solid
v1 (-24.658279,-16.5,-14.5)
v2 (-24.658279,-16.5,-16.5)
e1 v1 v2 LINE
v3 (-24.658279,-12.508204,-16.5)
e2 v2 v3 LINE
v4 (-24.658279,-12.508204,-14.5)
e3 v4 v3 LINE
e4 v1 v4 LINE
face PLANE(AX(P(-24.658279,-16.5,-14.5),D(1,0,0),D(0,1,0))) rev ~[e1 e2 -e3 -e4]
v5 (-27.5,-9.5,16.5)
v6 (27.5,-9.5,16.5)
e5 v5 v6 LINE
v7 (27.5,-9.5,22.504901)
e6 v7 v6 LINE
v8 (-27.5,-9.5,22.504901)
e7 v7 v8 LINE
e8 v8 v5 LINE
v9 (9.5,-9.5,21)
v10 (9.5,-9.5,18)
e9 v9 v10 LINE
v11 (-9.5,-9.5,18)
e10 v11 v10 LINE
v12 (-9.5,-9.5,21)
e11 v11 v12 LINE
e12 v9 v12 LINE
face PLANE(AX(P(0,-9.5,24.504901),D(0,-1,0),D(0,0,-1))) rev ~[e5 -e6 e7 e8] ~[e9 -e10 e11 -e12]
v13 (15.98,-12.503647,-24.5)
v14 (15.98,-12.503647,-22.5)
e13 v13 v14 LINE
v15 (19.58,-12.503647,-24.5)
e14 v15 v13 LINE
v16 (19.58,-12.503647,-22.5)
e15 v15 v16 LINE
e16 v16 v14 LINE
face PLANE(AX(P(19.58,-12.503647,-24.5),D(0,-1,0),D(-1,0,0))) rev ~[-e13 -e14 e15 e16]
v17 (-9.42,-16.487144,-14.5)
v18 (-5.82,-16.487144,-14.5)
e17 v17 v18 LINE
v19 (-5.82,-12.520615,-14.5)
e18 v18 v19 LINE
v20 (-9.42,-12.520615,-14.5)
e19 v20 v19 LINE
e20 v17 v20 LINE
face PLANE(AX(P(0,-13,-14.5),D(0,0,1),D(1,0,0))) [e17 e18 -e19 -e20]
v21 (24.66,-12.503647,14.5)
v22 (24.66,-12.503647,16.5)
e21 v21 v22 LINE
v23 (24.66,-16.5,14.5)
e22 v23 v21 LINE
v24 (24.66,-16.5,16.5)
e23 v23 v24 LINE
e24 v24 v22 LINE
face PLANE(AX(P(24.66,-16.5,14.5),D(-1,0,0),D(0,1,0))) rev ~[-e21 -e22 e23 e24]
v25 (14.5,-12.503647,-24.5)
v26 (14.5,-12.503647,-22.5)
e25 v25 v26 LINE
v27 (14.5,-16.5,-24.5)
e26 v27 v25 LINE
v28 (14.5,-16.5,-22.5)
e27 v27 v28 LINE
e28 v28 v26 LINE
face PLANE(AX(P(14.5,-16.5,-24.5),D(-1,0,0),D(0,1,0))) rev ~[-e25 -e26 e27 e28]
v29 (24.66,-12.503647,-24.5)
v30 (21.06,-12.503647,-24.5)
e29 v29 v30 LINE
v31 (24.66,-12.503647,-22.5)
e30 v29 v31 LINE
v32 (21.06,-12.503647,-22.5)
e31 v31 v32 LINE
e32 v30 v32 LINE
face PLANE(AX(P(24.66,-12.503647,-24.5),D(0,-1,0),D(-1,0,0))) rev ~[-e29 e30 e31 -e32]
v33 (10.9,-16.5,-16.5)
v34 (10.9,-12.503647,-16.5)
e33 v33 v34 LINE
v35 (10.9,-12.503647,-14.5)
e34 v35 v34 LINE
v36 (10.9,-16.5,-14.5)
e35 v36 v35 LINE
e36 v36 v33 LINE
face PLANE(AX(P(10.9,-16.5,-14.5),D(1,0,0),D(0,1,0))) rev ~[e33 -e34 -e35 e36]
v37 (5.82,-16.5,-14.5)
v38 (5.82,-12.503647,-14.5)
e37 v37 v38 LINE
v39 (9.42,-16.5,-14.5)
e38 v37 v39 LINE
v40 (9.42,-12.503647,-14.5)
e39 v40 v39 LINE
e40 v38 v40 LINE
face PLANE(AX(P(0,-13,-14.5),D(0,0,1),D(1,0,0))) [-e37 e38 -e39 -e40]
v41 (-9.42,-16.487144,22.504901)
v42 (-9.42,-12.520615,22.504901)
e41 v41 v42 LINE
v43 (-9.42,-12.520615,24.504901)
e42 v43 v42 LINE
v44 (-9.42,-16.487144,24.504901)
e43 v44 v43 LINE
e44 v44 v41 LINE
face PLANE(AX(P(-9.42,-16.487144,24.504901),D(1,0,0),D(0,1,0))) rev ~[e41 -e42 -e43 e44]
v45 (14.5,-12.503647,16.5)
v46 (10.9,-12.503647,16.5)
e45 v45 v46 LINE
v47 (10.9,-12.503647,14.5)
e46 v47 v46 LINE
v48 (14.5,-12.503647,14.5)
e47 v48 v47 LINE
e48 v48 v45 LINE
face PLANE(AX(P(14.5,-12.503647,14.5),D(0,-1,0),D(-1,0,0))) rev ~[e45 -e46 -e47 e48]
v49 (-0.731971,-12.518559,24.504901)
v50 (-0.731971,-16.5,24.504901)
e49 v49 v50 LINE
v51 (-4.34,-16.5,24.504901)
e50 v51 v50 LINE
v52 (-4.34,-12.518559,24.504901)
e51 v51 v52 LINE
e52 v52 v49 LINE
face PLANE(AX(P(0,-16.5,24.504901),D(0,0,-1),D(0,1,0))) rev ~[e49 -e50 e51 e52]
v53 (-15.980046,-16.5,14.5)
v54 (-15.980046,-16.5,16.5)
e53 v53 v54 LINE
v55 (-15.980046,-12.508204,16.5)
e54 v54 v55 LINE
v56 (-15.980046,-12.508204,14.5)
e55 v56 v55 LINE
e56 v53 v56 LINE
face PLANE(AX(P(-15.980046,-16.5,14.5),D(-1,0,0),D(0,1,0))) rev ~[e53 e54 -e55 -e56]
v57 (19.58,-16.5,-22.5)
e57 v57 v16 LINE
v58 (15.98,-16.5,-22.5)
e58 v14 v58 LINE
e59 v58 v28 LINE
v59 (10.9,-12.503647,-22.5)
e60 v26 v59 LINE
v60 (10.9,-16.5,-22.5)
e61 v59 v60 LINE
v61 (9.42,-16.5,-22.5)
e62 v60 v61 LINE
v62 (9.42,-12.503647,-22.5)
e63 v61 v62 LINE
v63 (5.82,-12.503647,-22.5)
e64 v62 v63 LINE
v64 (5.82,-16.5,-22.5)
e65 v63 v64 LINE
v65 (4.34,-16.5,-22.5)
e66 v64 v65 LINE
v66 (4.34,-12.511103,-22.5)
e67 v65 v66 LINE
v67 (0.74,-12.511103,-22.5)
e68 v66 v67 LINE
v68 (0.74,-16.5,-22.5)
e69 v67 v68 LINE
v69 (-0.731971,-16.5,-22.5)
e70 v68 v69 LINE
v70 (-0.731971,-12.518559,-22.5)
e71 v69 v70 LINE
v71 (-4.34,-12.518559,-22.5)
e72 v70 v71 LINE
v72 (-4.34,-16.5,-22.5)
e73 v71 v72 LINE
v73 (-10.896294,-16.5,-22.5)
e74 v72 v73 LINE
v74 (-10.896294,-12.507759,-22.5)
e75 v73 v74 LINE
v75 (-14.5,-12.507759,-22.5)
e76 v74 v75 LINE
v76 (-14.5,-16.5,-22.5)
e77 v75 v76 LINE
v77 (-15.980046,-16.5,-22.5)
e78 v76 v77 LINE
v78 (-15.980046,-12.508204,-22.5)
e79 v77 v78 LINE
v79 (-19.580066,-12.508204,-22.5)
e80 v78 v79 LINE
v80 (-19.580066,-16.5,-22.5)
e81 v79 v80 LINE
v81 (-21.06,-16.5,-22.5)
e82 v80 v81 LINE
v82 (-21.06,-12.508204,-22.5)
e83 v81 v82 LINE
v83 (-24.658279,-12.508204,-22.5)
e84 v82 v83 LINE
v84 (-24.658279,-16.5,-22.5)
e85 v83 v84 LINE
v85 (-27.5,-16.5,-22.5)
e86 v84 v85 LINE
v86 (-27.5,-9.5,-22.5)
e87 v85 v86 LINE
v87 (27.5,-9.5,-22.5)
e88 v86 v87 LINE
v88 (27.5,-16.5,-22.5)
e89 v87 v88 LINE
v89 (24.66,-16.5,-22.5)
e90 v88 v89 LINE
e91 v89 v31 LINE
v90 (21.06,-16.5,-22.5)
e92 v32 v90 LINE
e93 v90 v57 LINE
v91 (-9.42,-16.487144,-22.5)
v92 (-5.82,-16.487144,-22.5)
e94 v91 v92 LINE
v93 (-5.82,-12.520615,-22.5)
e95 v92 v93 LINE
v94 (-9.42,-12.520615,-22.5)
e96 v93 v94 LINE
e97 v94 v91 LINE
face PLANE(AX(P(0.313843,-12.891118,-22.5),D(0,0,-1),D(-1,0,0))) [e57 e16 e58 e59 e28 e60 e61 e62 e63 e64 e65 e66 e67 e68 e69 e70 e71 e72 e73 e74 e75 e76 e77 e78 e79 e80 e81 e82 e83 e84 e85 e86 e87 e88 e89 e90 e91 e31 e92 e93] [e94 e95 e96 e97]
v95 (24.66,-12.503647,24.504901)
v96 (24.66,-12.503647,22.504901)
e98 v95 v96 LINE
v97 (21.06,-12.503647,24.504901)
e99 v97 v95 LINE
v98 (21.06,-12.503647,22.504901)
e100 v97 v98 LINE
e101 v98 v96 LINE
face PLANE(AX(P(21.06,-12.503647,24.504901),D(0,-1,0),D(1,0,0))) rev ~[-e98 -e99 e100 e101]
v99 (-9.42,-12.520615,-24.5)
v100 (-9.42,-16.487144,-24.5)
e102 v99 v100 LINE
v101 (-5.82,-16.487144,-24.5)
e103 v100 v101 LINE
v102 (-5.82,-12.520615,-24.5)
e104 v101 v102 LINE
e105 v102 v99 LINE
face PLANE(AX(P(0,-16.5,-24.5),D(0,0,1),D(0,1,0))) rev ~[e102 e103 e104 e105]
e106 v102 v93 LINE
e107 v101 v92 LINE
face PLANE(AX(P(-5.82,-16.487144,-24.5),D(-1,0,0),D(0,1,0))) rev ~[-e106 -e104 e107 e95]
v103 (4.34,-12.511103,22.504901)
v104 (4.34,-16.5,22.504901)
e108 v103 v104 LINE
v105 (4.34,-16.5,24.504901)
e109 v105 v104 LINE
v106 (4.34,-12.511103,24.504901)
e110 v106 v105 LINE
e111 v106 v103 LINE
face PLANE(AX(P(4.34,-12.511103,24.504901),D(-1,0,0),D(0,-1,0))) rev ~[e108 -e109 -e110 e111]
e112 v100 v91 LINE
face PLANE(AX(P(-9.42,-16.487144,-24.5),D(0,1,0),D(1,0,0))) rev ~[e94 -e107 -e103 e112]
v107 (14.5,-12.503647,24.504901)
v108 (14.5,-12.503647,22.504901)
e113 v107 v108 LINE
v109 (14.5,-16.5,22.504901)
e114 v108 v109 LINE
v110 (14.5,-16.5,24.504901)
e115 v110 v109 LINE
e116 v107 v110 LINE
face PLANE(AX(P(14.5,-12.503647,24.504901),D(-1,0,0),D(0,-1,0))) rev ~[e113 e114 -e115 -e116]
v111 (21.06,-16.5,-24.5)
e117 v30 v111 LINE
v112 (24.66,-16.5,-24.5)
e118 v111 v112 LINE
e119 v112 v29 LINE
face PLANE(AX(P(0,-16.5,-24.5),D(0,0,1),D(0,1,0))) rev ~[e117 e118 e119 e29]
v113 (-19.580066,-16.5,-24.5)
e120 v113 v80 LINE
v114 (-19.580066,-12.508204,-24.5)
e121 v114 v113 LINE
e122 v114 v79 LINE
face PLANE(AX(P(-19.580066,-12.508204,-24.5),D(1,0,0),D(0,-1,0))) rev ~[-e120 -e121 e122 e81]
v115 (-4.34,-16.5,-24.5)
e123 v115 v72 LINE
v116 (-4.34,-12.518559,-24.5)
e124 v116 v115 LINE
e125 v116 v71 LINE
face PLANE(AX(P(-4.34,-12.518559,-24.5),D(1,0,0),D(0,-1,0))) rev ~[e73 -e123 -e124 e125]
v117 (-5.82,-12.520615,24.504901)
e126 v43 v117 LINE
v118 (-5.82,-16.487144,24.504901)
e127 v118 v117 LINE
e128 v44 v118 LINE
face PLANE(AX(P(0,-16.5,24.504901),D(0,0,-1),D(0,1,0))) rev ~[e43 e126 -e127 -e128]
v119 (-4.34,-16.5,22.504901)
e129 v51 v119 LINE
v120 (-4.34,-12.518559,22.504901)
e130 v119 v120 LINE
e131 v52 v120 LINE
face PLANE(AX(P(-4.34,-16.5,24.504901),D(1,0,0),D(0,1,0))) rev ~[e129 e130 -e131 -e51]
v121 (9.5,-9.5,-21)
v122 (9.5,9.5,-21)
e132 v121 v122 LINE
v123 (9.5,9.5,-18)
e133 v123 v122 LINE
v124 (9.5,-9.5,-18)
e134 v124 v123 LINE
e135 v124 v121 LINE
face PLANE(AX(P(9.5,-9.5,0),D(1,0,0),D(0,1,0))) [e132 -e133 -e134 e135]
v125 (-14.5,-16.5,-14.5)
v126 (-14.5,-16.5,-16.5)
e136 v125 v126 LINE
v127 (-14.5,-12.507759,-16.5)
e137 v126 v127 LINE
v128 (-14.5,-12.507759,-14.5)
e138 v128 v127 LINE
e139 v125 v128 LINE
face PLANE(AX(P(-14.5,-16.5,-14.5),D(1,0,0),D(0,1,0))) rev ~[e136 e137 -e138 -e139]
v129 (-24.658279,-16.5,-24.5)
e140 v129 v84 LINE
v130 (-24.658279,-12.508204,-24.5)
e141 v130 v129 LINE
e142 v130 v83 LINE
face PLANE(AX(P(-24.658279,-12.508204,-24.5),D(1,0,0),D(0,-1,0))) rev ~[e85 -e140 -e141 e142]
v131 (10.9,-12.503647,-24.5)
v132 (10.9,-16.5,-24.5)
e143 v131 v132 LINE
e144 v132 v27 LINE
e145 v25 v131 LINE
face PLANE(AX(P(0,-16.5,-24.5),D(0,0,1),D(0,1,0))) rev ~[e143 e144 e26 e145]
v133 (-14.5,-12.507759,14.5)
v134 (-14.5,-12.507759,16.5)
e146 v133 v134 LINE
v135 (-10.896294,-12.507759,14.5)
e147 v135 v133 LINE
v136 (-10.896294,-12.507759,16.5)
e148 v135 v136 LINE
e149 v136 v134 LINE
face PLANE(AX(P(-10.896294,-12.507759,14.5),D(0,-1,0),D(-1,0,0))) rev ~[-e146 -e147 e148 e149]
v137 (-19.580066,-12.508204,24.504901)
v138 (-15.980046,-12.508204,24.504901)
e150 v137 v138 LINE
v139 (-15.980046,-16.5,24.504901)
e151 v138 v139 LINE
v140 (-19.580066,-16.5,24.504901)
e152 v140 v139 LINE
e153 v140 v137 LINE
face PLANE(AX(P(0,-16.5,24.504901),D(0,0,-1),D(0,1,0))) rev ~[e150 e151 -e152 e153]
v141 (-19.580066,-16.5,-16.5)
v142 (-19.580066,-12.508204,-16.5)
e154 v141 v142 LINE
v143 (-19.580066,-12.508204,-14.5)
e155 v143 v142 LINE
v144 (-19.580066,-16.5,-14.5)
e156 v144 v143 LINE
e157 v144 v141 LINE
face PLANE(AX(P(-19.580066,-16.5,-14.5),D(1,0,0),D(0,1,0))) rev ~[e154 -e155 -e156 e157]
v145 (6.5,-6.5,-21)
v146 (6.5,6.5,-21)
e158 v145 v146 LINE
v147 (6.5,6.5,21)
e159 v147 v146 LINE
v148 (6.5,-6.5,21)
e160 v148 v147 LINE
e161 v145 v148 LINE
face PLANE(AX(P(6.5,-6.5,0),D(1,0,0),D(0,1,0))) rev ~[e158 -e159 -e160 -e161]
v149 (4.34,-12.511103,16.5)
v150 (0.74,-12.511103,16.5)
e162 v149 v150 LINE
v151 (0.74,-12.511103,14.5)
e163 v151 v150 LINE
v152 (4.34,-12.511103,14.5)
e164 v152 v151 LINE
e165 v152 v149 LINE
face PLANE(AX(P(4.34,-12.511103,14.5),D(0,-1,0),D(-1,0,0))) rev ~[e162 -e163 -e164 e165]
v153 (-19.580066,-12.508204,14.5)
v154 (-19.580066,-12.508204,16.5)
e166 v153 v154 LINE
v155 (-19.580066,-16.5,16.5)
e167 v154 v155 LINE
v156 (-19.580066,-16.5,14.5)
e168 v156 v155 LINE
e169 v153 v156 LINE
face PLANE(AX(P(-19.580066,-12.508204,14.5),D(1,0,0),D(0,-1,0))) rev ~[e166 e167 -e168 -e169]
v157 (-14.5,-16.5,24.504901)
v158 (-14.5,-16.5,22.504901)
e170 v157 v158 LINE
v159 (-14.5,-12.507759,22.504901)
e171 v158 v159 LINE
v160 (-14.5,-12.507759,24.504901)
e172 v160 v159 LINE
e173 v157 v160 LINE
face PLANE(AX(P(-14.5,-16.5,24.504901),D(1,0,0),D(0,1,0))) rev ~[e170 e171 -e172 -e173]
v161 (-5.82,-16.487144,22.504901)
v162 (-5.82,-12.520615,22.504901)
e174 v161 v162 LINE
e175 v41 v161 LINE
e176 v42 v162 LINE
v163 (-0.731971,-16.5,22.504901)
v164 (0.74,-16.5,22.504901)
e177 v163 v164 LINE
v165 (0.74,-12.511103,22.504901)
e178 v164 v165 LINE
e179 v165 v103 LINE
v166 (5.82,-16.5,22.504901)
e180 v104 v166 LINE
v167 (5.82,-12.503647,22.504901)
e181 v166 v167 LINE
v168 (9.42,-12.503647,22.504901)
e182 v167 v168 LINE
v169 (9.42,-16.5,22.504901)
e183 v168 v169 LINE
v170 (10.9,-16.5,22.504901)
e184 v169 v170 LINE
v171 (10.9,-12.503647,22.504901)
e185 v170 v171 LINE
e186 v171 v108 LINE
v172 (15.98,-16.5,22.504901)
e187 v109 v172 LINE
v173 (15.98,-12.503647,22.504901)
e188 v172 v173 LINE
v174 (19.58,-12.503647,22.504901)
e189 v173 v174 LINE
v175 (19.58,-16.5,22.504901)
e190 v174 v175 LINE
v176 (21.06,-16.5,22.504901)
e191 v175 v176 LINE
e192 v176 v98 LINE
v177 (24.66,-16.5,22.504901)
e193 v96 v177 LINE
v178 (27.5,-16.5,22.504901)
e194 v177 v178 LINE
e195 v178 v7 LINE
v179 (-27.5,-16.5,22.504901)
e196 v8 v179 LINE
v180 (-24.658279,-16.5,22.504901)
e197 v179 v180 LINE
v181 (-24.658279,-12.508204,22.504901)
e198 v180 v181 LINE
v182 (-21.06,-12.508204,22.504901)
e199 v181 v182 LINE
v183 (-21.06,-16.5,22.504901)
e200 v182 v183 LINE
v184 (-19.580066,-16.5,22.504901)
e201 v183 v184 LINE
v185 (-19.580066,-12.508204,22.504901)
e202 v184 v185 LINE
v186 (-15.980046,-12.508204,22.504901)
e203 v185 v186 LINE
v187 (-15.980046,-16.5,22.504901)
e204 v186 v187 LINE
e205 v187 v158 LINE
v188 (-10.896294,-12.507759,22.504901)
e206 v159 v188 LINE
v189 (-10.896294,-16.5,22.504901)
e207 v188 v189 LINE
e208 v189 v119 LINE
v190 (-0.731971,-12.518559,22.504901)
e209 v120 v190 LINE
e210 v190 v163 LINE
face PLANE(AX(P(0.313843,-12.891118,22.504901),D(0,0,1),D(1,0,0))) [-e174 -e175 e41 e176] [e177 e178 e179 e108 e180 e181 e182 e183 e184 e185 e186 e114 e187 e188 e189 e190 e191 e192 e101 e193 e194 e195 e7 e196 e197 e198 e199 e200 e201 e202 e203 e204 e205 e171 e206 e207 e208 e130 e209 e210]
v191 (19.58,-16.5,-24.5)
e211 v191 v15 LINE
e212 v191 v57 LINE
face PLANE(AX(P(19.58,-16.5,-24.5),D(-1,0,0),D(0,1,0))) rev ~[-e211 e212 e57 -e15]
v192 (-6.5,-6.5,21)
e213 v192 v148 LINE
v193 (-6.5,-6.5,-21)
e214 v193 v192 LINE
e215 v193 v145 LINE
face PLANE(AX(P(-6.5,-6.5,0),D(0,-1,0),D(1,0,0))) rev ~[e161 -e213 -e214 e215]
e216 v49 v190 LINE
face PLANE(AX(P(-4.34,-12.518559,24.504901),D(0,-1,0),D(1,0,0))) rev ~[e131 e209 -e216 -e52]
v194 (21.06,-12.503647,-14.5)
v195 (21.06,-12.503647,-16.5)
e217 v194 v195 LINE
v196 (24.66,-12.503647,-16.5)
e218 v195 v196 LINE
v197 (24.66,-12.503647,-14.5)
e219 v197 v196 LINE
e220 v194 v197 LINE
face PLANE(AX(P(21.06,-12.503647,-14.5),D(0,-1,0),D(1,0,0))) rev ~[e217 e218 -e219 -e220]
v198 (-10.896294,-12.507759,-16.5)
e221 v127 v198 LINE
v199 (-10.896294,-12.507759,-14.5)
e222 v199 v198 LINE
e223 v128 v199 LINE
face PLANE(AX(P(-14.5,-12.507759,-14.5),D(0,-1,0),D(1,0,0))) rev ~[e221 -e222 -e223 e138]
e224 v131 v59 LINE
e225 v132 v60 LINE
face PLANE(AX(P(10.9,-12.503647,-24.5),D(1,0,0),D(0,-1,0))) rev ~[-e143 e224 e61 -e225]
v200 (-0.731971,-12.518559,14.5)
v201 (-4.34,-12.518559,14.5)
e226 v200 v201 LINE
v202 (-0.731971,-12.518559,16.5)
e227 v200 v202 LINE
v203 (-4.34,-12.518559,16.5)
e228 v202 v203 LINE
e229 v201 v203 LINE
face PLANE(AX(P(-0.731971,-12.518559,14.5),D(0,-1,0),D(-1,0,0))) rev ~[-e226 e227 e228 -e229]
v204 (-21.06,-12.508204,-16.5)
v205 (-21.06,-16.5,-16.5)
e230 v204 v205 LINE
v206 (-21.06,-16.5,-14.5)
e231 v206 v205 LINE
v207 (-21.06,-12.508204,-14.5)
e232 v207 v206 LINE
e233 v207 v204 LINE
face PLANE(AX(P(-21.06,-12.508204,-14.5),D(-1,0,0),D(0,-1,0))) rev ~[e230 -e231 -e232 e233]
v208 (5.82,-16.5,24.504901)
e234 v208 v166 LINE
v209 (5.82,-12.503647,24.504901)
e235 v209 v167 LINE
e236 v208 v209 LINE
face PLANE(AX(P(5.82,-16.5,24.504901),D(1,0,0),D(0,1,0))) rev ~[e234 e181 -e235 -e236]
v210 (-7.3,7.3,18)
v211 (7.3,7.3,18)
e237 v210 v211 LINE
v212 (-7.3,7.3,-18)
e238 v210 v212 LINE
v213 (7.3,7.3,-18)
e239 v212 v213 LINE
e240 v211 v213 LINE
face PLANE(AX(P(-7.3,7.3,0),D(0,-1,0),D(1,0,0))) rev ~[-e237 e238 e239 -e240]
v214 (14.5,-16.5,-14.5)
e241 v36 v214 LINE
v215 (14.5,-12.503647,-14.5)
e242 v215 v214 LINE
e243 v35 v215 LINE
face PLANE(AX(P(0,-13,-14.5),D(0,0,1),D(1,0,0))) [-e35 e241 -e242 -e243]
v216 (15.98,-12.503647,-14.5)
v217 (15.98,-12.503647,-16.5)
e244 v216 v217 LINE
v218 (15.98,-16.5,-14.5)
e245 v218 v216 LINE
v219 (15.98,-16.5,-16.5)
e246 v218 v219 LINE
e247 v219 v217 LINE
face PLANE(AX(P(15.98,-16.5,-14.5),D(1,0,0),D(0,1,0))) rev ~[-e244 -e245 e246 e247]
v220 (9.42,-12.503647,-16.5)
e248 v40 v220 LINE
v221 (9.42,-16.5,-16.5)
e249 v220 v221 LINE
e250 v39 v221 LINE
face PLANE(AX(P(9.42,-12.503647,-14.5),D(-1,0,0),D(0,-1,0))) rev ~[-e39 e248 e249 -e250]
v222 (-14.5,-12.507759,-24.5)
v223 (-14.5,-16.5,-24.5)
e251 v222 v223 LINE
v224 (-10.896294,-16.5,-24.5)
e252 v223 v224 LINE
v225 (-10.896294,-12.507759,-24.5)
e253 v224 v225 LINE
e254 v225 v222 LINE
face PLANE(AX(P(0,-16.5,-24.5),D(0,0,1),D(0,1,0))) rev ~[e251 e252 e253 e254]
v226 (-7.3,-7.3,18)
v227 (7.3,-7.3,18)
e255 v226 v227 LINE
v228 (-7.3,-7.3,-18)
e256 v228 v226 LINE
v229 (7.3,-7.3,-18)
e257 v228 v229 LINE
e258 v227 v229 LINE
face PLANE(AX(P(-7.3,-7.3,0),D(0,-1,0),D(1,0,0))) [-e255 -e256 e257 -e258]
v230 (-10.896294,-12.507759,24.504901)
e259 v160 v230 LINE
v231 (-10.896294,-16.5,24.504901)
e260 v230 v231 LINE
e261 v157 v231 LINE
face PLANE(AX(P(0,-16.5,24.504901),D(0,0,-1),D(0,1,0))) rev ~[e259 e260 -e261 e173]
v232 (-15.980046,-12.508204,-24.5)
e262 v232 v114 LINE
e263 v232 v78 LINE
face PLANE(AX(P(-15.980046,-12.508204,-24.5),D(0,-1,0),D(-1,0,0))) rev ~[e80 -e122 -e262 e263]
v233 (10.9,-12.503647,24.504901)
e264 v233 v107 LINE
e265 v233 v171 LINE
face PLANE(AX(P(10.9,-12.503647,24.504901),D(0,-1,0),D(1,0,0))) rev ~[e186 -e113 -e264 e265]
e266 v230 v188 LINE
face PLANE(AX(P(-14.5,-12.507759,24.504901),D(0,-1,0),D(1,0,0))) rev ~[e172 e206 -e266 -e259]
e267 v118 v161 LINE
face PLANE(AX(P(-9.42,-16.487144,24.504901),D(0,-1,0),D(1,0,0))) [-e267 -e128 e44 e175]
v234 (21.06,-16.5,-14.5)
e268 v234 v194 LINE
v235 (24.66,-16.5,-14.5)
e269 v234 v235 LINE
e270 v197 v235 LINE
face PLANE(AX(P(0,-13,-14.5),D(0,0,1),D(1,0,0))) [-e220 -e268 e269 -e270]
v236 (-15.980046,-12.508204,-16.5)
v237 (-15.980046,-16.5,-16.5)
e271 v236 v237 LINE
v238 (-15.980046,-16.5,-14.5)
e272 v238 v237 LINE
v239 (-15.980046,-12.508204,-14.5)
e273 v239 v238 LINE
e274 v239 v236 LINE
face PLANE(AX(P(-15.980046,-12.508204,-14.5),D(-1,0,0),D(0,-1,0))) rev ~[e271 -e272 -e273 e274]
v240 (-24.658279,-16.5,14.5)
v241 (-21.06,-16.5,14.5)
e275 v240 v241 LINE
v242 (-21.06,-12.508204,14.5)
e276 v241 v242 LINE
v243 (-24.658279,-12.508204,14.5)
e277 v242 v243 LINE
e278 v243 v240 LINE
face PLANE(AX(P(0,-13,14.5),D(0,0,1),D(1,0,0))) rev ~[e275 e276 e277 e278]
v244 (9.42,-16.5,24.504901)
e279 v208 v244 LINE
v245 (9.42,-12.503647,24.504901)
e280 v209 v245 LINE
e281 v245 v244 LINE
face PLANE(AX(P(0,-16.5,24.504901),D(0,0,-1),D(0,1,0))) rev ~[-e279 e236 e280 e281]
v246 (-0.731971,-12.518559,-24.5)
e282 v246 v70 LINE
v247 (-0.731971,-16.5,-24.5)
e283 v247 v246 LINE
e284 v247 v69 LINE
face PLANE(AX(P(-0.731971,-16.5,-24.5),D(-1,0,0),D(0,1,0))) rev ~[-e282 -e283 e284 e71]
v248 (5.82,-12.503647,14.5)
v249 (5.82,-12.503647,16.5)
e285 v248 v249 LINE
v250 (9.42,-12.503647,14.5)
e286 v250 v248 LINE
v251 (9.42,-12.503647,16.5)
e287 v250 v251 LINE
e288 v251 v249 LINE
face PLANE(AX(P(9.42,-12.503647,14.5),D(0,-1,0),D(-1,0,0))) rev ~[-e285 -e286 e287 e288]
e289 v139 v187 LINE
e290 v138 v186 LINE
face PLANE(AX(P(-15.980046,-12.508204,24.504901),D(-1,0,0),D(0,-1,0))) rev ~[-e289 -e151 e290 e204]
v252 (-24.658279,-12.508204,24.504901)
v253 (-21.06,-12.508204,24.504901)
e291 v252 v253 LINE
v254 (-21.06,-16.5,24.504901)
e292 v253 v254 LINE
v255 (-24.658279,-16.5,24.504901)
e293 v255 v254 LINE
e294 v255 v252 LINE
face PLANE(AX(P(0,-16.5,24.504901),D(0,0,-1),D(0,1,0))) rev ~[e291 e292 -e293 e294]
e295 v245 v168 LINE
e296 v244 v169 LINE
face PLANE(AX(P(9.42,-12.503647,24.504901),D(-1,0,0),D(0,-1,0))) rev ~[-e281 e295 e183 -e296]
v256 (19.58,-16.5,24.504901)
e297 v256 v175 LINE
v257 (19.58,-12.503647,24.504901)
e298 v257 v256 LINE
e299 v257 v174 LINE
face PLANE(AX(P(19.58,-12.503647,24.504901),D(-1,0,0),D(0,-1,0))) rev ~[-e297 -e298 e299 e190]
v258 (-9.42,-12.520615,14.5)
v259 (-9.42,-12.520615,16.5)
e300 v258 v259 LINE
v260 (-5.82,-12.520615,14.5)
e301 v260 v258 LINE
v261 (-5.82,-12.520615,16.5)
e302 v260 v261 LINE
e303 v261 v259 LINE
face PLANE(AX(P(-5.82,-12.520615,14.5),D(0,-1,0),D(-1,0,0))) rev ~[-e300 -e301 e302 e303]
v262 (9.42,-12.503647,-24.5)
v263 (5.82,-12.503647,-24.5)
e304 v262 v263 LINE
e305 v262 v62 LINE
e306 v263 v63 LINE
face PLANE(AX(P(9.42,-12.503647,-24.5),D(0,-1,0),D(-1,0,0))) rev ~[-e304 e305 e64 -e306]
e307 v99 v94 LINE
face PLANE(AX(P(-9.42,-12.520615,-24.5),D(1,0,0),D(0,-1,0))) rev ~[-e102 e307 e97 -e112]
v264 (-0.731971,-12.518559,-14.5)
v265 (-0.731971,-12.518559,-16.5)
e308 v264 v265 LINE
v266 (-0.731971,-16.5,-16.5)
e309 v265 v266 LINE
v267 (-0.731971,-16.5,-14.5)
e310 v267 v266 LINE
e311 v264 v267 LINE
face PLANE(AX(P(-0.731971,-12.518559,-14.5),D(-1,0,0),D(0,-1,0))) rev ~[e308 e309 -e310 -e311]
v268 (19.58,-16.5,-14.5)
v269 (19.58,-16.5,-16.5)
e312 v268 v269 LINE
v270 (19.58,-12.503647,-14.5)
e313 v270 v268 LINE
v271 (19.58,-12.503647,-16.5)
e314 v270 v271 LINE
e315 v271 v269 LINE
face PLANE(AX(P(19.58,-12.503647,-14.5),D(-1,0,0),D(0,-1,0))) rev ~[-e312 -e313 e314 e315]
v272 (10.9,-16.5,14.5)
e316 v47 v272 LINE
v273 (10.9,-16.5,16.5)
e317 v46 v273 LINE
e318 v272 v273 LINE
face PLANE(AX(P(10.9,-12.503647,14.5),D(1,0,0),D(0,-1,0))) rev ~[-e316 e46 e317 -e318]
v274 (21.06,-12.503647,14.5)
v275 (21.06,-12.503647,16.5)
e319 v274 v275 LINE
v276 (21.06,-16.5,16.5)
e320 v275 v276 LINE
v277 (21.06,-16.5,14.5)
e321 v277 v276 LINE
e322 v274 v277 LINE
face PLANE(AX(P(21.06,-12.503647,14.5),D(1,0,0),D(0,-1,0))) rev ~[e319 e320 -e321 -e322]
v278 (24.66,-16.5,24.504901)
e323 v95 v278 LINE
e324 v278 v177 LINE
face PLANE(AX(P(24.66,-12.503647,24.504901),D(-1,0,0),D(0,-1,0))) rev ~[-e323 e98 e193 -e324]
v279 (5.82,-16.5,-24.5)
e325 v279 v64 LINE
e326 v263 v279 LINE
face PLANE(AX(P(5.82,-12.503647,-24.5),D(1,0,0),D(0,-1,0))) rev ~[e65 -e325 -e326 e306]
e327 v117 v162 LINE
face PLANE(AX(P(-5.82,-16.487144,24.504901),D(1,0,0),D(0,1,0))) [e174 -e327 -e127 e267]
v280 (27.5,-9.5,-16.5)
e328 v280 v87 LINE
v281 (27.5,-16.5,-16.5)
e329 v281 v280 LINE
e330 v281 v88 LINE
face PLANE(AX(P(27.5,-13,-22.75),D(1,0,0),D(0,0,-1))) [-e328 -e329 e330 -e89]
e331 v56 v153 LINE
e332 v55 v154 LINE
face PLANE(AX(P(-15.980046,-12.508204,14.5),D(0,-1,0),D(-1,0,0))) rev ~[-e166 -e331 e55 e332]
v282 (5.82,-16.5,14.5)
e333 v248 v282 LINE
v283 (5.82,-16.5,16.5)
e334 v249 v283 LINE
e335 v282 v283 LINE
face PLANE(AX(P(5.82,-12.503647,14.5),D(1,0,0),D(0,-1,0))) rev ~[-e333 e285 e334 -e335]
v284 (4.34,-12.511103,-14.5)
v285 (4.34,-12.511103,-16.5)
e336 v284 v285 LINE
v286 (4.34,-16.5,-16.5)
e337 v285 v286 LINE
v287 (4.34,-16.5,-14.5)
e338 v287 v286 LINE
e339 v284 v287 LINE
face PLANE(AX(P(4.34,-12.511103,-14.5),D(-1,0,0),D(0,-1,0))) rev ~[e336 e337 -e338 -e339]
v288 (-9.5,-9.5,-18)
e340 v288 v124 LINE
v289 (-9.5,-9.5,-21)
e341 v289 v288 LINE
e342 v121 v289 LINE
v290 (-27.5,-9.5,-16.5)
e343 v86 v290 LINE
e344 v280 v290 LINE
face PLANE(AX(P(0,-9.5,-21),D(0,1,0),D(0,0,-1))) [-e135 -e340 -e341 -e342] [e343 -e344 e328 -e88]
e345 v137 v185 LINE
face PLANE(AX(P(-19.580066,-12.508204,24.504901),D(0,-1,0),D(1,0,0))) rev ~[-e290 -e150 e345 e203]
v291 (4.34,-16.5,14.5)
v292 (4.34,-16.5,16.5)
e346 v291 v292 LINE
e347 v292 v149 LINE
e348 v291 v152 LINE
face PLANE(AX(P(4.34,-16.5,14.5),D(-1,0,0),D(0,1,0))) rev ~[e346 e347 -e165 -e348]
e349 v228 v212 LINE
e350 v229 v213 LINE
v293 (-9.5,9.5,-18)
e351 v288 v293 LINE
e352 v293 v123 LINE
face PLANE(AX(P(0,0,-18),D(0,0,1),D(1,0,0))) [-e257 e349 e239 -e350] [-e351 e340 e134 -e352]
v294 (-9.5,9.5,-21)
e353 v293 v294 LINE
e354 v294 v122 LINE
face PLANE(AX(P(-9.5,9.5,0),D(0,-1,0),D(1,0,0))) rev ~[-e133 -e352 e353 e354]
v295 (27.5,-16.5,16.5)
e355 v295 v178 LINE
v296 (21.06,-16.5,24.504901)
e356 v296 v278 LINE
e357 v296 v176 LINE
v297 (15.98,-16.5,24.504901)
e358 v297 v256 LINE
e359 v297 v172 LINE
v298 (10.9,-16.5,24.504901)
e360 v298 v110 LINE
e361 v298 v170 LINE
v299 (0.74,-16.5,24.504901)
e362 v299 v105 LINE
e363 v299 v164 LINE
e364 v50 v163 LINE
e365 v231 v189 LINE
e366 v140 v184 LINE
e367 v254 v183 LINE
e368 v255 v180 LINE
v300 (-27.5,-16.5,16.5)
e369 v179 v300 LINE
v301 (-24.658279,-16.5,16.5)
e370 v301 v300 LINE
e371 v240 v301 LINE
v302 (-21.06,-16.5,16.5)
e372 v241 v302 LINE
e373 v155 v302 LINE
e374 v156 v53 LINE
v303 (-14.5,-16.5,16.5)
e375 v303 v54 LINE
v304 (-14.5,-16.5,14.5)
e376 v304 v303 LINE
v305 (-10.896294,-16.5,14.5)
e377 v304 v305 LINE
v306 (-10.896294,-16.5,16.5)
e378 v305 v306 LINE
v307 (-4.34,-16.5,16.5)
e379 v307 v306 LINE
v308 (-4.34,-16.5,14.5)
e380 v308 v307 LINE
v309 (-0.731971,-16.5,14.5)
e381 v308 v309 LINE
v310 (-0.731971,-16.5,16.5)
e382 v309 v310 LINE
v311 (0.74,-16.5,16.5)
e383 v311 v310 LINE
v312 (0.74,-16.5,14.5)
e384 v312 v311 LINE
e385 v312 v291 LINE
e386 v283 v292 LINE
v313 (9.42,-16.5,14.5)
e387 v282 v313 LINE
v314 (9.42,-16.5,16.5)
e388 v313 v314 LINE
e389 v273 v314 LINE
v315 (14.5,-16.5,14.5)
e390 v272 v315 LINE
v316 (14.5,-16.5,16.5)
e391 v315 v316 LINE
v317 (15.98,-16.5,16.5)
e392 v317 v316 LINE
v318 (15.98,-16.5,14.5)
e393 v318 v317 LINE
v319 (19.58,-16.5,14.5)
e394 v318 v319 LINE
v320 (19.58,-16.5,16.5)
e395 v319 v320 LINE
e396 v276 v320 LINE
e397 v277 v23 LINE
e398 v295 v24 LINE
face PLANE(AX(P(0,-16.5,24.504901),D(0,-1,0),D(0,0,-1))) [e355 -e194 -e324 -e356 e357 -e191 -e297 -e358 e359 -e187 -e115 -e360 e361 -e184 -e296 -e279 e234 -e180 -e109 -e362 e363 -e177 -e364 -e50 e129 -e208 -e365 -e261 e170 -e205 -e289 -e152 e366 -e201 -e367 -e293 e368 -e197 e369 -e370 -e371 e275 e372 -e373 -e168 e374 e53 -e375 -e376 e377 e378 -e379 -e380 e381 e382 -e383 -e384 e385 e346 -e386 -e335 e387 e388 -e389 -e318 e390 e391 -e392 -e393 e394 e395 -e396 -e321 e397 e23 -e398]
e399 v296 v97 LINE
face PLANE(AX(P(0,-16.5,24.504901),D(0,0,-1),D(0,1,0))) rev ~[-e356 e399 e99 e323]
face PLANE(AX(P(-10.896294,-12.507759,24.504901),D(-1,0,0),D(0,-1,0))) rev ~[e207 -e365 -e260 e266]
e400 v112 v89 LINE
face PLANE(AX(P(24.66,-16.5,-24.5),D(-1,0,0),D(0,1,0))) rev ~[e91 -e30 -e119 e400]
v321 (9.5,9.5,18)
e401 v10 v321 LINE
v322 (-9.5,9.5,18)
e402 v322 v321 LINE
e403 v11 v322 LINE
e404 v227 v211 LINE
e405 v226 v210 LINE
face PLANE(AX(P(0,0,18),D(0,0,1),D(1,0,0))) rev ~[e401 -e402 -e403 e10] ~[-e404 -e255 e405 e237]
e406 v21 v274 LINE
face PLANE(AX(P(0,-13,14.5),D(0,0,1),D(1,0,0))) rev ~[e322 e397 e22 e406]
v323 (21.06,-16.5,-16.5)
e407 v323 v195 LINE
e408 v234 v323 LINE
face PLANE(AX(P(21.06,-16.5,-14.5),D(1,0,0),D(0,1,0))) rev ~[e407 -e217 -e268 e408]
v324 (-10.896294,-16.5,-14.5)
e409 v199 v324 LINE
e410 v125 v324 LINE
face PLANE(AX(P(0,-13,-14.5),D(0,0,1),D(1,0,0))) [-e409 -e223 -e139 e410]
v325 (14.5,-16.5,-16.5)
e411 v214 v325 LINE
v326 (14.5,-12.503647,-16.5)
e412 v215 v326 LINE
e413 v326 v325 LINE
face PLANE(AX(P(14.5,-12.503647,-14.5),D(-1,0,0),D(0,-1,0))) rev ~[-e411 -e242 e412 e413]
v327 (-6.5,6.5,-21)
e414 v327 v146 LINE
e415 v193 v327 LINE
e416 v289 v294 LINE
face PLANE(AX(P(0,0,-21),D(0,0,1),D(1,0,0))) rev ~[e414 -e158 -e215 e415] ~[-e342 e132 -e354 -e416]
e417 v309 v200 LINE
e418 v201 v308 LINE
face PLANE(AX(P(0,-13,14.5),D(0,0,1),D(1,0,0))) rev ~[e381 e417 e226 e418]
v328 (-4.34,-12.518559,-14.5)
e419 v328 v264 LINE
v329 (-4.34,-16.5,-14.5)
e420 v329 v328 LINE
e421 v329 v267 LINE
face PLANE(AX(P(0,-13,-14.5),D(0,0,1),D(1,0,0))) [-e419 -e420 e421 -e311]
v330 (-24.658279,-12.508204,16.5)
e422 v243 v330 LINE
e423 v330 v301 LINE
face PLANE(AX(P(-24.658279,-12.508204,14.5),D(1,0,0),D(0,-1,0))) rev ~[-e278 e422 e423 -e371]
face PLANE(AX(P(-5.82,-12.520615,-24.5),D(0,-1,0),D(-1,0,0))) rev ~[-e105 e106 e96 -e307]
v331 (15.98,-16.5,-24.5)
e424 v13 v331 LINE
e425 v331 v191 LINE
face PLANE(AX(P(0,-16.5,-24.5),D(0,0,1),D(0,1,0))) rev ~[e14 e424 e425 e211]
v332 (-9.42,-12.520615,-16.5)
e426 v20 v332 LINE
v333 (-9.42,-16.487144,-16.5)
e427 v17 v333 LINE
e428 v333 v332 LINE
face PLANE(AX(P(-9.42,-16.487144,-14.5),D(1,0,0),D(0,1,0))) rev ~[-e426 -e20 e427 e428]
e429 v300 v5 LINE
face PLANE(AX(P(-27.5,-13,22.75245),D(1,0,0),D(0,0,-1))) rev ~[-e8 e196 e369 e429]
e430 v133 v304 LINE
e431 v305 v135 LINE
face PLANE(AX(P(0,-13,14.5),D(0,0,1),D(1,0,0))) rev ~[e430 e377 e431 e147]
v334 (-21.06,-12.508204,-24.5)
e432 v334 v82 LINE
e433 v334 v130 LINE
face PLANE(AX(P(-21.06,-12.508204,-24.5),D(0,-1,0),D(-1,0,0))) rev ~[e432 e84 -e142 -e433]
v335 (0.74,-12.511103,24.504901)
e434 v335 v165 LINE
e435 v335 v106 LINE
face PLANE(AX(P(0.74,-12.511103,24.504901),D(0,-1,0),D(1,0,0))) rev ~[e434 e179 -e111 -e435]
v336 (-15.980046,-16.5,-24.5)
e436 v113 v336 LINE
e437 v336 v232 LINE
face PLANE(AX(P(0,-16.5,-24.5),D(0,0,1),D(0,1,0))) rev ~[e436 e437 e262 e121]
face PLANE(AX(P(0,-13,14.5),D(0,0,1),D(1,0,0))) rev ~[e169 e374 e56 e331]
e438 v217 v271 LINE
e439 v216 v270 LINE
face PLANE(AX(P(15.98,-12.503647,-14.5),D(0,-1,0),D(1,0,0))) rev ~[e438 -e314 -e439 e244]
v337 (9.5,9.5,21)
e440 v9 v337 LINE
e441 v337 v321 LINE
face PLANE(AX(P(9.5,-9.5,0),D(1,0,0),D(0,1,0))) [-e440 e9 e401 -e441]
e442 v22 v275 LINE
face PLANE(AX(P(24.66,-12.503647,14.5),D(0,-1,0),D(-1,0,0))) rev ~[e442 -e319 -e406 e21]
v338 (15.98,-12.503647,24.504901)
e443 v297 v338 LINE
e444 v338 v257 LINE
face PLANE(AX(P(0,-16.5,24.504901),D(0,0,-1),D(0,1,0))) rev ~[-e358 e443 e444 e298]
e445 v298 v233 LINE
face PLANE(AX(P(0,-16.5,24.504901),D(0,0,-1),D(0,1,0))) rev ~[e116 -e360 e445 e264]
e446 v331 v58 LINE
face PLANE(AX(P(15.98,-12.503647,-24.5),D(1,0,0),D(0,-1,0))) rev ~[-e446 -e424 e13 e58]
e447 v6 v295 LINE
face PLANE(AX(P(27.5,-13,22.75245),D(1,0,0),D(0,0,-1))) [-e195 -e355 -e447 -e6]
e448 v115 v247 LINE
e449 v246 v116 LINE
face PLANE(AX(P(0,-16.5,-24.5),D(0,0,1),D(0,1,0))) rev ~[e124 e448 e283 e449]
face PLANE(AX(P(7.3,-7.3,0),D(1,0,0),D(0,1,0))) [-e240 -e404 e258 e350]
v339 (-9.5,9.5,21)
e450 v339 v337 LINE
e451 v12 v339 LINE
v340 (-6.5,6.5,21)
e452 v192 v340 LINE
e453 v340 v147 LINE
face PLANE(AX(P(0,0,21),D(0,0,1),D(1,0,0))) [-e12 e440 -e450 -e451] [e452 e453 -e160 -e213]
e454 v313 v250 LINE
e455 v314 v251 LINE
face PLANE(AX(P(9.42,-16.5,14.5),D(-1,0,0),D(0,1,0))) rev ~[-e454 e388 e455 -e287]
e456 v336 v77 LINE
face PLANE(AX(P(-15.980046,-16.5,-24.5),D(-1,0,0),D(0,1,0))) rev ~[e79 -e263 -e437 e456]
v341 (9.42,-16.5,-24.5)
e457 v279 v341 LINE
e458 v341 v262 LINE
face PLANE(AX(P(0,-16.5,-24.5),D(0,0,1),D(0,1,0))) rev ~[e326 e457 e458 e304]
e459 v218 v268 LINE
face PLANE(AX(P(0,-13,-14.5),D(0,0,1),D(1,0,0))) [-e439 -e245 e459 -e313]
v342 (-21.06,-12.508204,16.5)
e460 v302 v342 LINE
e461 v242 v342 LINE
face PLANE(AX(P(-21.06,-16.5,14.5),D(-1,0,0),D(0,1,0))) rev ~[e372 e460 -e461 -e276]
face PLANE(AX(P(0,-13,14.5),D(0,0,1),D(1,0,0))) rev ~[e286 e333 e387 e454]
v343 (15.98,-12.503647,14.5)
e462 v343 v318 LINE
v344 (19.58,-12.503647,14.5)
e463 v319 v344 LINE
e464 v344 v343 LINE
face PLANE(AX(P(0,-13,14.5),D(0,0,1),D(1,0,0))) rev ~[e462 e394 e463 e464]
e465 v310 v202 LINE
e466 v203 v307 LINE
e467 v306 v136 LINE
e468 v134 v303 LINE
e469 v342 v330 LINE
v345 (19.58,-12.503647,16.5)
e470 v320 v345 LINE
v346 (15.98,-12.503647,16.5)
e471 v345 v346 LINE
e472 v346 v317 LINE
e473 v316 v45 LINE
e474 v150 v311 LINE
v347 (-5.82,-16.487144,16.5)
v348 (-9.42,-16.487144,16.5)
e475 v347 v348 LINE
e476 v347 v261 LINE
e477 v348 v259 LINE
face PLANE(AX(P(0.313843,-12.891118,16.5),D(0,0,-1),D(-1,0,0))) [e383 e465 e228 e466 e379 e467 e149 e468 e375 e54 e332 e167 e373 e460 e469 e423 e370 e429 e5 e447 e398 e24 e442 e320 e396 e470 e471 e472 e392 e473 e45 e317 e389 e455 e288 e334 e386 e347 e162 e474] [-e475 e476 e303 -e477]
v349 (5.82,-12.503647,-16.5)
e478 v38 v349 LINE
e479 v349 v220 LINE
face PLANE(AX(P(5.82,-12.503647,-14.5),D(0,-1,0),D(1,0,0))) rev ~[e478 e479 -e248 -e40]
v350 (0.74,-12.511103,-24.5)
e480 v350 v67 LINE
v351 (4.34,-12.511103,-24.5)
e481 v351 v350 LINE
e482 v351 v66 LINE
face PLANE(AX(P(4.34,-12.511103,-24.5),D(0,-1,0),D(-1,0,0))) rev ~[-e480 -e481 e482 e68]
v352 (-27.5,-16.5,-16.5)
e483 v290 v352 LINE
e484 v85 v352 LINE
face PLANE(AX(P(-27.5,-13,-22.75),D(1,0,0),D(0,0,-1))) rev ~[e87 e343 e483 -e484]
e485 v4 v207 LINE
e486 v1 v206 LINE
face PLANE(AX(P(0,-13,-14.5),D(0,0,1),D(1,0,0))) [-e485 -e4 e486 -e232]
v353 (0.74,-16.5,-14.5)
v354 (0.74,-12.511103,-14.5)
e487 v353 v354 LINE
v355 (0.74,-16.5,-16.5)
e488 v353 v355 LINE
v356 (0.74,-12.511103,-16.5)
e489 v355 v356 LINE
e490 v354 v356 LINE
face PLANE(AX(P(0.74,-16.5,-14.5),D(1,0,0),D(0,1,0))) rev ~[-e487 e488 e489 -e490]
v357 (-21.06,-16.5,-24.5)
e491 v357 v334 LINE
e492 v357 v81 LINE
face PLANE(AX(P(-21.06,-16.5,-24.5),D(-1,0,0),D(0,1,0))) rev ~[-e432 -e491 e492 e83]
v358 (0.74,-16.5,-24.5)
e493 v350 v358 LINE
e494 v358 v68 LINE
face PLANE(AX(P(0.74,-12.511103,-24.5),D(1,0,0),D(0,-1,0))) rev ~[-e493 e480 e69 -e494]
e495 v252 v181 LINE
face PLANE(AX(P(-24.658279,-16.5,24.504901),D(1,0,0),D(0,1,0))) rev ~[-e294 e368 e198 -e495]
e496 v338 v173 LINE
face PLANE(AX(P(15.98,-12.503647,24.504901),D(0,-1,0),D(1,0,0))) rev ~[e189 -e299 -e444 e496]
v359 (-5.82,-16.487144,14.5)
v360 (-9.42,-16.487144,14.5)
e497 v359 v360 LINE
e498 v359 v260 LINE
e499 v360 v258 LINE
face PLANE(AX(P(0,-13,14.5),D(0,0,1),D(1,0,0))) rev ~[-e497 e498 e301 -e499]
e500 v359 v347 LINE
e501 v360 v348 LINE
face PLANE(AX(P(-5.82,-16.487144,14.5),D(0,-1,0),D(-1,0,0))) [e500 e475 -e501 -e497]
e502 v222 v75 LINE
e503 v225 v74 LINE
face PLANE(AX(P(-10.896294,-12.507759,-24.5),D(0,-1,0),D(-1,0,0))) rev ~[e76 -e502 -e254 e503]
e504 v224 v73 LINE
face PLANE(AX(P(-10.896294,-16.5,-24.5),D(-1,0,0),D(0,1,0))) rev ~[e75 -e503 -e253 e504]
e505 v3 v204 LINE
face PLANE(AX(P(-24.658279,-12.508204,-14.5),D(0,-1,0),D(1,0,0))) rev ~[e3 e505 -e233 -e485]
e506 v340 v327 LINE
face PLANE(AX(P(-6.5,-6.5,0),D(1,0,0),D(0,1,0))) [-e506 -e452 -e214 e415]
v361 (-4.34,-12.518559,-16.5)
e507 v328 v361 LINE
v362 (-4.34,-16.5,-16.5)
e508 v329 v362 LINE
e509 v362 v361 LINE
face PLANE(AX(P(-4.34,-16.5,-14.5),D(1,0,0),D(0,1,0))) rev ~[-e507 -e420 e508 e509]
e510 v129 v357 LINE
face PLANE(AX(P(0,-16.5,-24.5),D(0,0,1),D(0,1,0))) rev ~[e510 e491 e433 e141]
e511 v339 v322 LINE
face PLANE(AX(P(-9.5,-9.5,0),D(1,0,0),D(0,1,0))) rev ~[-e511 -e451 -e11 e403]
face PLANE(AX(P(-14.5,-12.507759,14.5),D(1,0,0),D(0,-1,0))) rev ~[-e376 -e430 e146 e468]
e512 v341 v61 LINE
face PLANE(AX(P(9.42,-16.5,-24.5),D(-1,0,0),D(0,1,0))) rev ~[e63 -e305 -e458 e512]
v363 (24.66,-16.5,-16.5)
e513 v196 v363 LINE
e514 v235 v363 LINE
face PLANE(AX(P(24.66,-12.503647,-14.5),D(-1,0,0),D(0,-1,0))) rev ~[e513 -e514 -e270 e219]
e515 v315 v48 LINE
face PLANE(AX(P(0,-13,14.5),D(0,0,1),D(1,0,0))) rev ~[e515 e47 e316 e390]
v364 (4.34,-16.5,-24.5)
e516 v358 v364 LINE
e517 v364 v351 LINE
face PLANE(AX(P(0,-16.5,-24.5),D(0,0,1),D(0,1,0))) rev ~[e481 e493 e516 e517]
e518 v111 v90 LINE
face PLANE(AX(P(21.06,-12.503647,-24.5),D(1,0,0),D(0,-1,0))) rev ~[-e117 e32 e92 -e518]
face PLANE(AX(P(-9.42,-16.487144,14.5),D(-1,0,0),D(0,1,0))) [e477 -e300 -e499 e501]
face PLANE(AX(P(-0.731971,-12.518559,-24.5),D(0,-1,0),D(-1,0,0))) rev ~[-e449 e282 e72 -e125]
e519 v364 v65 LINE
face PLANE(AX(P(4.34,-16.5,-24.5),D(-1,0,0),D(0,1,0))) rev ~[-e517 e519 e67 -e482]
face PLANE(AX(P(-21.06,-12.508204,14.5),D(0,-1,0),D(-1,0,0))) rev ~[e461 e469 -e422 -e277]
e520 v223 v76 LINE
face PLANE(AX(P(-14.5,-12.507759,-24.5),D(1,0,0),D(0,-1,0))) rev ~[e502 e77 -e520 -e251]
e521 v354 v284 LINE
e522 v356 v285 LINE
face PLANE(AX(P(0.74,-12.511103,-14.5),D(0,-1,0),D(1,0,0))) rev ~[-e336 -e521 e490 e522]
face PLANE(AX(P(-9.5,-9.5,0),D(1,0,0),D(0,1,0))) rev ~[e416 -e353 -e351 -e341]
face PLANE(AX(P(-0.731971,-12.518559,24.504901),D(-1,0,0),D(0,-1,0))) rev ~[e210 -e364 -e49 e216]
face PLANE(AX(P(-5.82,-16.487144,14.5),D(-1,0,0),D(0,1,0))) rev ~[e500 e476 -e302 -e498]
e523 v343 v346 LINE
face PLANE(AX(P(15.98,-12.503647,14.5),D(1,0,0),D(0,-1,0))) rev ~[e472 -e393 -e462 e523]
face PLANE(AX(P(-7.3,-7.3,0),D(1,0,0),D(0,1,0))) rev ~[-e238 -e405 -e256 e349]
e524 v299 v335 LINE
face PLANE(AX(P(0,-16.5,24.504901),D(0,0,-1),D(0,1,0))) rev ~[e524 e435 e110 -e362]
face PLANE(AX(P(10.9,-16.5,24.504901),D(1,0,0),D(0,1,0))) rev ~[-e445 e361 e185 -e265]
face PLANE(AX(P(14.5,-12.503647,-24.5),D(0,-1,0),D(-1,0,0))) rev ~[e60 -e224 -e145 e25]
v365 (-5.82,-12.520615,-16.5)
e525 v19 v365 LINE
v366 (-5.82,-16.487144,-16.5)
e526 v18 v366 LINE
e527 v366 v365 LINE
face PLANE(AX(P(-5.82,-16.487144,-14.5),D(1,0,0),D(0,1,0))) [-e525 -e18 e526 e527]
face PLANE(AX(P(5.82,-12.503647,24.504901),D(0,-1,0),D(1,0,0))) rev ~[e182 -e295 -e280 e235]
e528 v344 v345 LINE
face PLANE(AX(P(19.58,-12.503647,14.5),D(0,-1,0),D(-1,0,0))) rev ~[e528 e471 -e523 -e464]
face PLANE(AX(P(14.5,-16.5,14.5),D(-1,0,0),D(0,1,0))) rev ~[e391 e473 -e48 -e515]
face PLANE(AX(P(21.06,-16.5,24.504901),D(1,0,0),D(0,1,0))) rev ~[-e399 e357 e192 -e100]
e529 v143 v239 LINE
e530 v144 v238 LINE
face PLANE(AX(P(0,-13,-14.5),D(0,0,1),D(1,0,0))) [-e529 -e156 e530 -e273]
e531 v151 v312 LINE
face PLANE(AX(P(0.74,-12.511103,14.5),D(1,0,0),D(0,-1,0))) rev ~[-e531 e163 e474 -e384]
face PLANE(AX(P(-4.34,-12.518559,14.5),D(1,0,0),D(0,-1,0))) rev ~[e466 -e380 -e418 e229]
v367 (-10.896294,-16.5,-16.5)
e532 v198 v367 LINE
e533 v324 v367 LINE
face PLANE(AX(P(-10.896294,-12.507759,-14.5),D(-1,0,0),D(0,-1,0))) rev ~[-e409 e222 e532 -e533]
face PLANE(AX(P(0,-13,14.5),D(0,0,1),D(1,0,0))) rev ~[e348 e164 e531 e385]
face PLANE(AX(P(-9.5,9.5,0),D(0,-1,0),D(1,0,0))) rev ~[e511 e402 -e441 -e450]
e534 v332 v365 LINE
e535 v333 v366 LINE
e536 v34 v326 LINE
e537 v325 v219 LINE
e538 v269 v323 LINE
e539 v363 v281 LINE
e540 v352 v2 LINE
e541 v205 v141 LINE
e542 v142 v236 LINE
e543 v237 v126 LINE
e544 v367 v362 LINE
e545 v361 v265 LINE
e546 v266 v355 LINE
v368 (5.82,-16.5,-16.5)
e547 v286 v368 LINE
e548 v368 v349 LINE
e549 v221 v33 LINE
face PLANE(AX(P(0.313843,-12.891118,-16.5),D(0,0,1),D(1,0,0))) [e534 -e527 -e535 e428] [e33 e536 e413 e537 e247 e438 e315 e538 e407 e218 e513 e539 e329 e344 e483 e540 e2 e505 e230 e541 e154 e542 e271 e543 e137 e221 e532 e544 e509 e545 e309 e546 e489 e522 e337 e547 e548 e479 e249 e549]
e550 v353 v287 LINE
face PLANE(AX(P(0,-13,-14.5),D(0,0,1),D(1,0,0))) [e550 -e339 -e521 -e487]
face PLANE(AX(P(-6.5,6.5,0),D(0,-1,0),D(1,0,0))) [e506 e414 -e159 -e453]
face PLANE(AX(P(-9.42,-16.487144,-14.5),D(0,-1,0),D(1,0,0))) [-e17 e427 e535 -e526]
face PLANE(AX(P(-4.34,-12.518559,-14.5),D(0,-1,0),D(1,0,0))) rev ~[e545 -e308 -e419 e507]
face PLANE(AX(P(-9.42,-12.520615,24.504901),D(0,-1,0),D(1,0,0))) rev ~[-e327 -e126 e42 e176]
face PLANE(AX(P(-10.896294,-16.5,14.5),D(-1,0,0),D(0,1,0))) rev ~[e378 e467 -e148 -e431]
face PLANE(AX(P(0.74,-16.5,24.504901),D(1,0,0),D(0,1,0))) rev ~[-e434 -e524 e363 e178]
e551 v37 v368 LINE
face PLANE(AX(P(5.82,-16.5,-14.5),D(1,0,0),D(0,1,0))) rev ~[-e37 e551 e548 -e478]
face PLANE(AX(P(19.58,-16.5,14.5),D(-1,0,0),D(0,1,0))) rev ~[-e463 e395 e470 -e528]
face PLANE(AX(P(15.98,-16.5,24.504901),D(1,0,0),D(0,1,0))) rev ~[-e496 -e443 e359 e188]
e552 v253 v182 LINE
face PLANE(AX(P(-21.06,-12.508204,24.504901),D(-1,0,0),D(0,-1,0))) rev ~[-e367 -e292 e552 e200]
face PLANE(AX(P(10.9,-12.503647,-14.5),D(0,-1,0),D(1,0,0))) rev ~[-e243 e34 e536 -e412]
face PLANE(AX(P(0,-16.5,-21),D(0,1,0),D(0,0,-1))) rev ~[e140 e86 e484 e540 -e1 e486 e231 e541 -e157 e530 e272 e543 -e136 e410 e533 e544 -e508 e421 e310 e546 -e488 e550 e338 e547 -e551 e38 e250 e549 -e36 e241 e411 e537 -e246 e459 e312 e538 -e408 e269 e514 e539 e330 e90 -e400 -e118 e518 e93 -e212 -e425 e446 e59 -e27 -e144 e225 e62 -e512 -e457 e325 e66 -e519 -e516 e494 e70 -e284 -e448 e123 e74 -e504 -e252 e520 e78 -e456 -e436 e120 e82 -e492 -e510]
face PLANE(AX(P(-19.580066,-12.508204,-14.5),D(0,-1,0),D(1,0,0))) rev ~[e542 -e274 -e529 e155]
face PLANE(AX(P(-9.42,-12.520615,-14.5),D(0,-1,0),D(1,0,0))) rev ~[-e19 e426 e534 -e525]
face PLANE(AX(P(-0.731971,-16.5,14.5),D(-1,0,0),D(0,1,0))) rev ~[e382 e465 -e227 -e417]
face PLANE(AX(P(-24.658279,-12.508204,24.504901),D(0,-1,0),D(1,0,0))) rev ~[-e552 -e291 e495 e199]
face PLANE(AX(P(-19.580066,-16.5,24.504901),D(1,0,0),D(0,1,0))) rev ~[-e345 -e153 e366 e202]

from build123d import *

# Parameters (mm, degrees)
EXTRUDE_1_DEPTH      = 21
SKETCH_1_3_W         = 13
SKETCH_1_3_H         = 13
CUT_EXTRUDE_1_DEPTH  = 21
SKETCH_1_12_W        = 19
SKETCH_1_12_H        = 19
SKETCH_1_12_W_2      = 14.6
SKETCH_1_12_H_2      = 14.6
SKETCH_1_12_W_3      = 13
SKETCH_1_12_H_3      = 13
CUT_EXTRUDE_6_DEPTH  = 18
CUT_EXTRUDE_7_DEPTH  = 14.5
SKETCH_4_W           = 3.504900739
SKETCH_4_H           = 7
SKETCH_4_W_2         = 3.5
EXTRUDE_2_DEPTH      = 27.5
CUT_EXTRUDE_9_DEPTH  = 2
SKETCH_7_W           = 3.6
SKETCH_7_H           = 3.966529086
CUT_EXTRUDE_10_DEPTH = 2
SKETCH_9_W           = 3.6
SKETCH_9_H           = 3.966529086
CUT_EXTRUDE_11_DEPTH = 2
SKETCH_10_W          = 3.6
SKETCH_10_H          = 3.966529086
CUT_EXTRUDE_12_DEPTH = 2


with BuildPart() as part:
    # 草图1 → 凸台-拉伸1 (new, symmetric)
    with BuildSketch(Plane.XY):
        Polygon((9.5, 9.5), (-9.5, 9.5), (-9.5, -9.5), (-27.5, -9.5), (-27.5, -16.5), (27.5, -16.5), (27.5, -9.5), (9.5, -9.5), align=None)
    extrude(amount=EXTRUDE_1_DEPTH, both=True)

    # 草图1<3> → 切除-拉伸1 (cut, symmetric)
    with BuildSketch(Plane.XY):
        Rectangle(SKETCH_1_3_W, SKETCH_1_3_H)
    extrude(amount=CUT_EXTRUDE_1_DEPTH, both=True, mode=Mode.SUBTRACT)

    # 草图1<12> → 切除-拉伸6 (cut, symmetric)
    # profile 1 of 2: a face of its own
    with BuildSketch(Plane.XY):
        Rectangle(SKETCH_1_12_W, SKETCH_1_12_H)
        Rectangle(SKETCH_1_12_W_2, SKETCH_1_12_H_2, mode=Mode.SUBTRACT)
    # profile 2 of 2: a face of its own
    with BuildSketch(Plane.XY):
        Rectangle(SKETCH_1_12_W_3, SKETCH_1_12_H_3)
    extrude(amount=CUT_EXTRUDE_6_DEPTH, both=True, mode=Mode.SUBTRACT)

    # 草图1<13> → 切除-拉伸7 (cut, symmetric)
    with BuildSketch(Plane.XY):
        Polygon((9.5, -9.5), (-9.5, -9.5), (-27.5, -9.5), (-27.5, -16.5), (27.5, -16.5), (27.5, -9.5), align=None)
    extrude(amount=CUT_EXTRUDE_7_DEPTH, both=True, mode=Mode.SUBTRACT)

    # 草图4 → 凸台-拉伸2 (add, symmetric)
    with BuildSketch(Plane(origin=(0, 0, 0), x_dir=(0, 0, -1), z_dir=(1, 0, 0))):
        with Locations((-22.752450369, -13)):
            Rectangle(SKETCH_4_W, SKETCH_4_H)
        with Locations((22.75, -13)):
            Rectangle(SKETCH_4_W_2, SKETCH_4_H)
    extrude(amount=EXTRUDE_2_DEPTH, both=True)

    # 草图5 → 切除-拉伸9 (cut)
    with BuildSketch(Plane(origin=(0, 0, -24.5), x_dir=(-1, 0, 0), z_dir=(0, 0, -1))):
        Polygon((-27.5, -9.5), (-27.5, -16.5), (-24.66, -16.5), (-24.66, -12.503647236), (-22.86, -12.503647236), (-21.06, -12.503647236), (-21.06, -16.5), (-19.58, -16.5), (-19.58, -12.503647236), (-17.78, -12.503647236), (-15.98, -12.503647236), (-15.98, -16.5), (-14.5, -16.5), (-14.5, -12.503647236), (-12.7, -12.503647236), (-10.9, -12.503647236), (-10.9, -16.5), (-9.42, -16.5), (-9.42, -12.503647236), (-7.62, -12.503647236), (-5.82, -12.503647236), (-5.82, -16.5), (-4.34, -16.5), (-4.34, -12.511103156), (-0.74, -12.511103156), (-0.74, -16.5), (0.731971317, -16.5), (0.731971317, -12.518559075), (2.535985659, -12.518559075), (4.34, -12.518559075), (4.34, -16.5), (7.62, -16.5), (10.896293739, -16.5), (10.896293739, -12.507758798), (12.698146869, -12.507758798), (14.5, -12.507758798), (14.5, -16.5), (15.980045705, -16.5), (15.980045705, -12.508203705), (17.780055728, -12.508203705), (19.580065752, -12.508203705), (19.580065752, -16.5), (21.06, -16.5), (21.06, -12.508203705), (22.859139551, -12.508203705), (24.658279102, -12.508203705), (24.658279102, -16.5), (27.5, -16.5), (27.5, -9.5), (9.5, -9.5), (-9.5, -9.5), align=None)
        Polygon((9.42, -16.487143942), (7.62, -16.487143942), (5.82, -16.487143942), (5.82, -12.520614856), (7.62, -12.520614856), (9.42, -12.520614856), align=None, mode=Mode.SUBTRACT)
    extrude(amount=-CUT_EXTRUDE_9_DEPTH, mode=Mode.SUBTRACT)

    # 草图7 → 切除-拉伸10 (cut)
    with BuildSketch(Plane(origin=(0, 0, 14.5), x_dir=(-1, 0, 0), z_dir=(0, 0, -1))):
        Polygon((19.580065752, -16.5), (21.06, -16.5), (21.06, -12.508203705), (24.658279102, -12.508203705), (24.658279102, -16.5), (27.5, -16.5), (27.5, -9.5), (-27.5, -9.5), (-27.5, -16.5), (-24.66, -16.5), (-24.66, -12.503647236), (-21.06, -12.503647236), (-21.06, -16.5), (-19.58, -16.5), (-19.58, -12.503647236), (-15.98, -12.503647236), (-15.98, -16.5), (-14.5, -16.5), (-14.5, -12.503647236), (-10.9, -12.503647236), (-10.9, -16.5), (-9.42, -16.5), (-9.42, -12.503647236), (-5.82, -12.503647236), (-5.82, -16.5), (-4.34, -16.5), (-4.34, -12.511103156), (-0.74, -12.511103156), (-0.74, -16.5), (0.731971317, -16.5), (0.731971317, -12.518559075), (4.34, -12.518559075), (4.34, -16.5), (10.896293739, -16.5), (10.896293739, -12.507758798), (14.5, -12.507758798), (14.5, -16.5), (15.980045705, -16.5), (15.980045705, -12.508203705), (19.580065752, -12.508203705), align=None)
        with Locations((7.62, -14.503879399)):
            Rectangle(SKETCH_7_W, SKETCH_7_H, mode=Mode.SUBTRACT)
    extrude(amount=-CUT_EXTRUDE_10_DEPTH, mode=Mode.SUBTRACT)

    # 草图9 → 切除-拉伸11 (cut)
    with BuildSketch(Plane.XY.offset(-14.5)):
        Polygon((24.66, -16.5), (27.5, -16.5), (27.5, -9.5), (-27.5, -9.5), (-27.5, -16.5), (-24.658279102, -16.5), (-24.658279102, -12.508203705), (-21.06, -12.508203705), (-21.06, -16.5), (-19.580065752, -16.5), (-19.580065752, -12.508203705), (-15.980045705, -12.508203705), (-15.980045705, -16.5), (-14.5, -16.5), (-14.5, -12.507758798), (-10.896293739, -12.507758798), (-10.896293739, -16.5), (-4.34, -16.5), (-4.34, -12.518559075), (-0.731971317, -12.518559075), (-0.731971317, -16.5), (0.74, -16.5), (0.74, -12.511103156), (4.34, -12.511103156), (4.34, -16.5), (5.82, -16.5), (5.82, -12.503647236), (9.42, -12.503647236), (9.42, -16.5), (10.9, -16.5), (10.9, -12.503647236), (14.5, -12.503647236), (14.5, -16.5), (15.98, -16.5), (15.98, -12.503647236), (19.58, -12.503647236), (19.58, -16.5), (21.06, -16.5), (21.06, -12.503647236), (24.66, -12.503647236), align=None)
        with Locations((-7.62, -14.503879399)):
            Rectangle(SKETCH_9_W, SKETCH_9_H, mode=Mode.SUBTRACT)
    extrude(amount=-CUT_EXTRUDE_11_DEPTH, mode=Mode.SUBTRACT)

    # 草图10 → 切除-拉伸12 (cut)
    with BuildSketch(Plane.XY.offset(24.504900739)):
        Polygon((27.5, -9.5), (-27.5, -9.5), (-27.5, -16.5), (-24.658279102, -16.5), (-24.658279102, -12.508203705), (-21.06, -12.508203705), (-21.06, -16.5), (-19.580065752, -16.5), (-19.580065752, -12.508203705), (-15.980045705, -12.508203705), (-15.980045705, -16.5), (-14.5, -16.5), (-14.5, -12.507758798), (-10.896293739, -12.507758798), (-10.896293739, -16.5), (-4.34, -16.5), (-4.34, -12.518559075), (-0.731971317, -12.518559075), (-0.731971317, -16.5), (0.74, -16.5), (0.74, -12.511103156), (4.34, -12.511103156), (4.34, -16.5), (5.82, -16.5), (5.82, -12.503647236), (9.42, -12.503647236), (9.42, -16.5), (10.9, -16.5), (10.9, -12.503647236), (14.5, -12.503647236), (14.5, -16.5), (15.98, -16.5), (15.98, -12.503647236), (19.58, -12.503647236), (19.58, -16.5), (21.06, -16.5), (21.06, -12.503647236), (24.66, -12.503647236), (24.66, -16.5), (27.5, -16.5), align=None)
        with Locations((-7.62, -14.503879399)):
            Rectangle(SKETCH_10_W, SKETCH_10_H, mode=Mode.SUBTRACT)
    extrude(amount=-CUT_EXTRUDE_12_DEPTH, mode=Mode.SUBTRACT)


solid = part.part
